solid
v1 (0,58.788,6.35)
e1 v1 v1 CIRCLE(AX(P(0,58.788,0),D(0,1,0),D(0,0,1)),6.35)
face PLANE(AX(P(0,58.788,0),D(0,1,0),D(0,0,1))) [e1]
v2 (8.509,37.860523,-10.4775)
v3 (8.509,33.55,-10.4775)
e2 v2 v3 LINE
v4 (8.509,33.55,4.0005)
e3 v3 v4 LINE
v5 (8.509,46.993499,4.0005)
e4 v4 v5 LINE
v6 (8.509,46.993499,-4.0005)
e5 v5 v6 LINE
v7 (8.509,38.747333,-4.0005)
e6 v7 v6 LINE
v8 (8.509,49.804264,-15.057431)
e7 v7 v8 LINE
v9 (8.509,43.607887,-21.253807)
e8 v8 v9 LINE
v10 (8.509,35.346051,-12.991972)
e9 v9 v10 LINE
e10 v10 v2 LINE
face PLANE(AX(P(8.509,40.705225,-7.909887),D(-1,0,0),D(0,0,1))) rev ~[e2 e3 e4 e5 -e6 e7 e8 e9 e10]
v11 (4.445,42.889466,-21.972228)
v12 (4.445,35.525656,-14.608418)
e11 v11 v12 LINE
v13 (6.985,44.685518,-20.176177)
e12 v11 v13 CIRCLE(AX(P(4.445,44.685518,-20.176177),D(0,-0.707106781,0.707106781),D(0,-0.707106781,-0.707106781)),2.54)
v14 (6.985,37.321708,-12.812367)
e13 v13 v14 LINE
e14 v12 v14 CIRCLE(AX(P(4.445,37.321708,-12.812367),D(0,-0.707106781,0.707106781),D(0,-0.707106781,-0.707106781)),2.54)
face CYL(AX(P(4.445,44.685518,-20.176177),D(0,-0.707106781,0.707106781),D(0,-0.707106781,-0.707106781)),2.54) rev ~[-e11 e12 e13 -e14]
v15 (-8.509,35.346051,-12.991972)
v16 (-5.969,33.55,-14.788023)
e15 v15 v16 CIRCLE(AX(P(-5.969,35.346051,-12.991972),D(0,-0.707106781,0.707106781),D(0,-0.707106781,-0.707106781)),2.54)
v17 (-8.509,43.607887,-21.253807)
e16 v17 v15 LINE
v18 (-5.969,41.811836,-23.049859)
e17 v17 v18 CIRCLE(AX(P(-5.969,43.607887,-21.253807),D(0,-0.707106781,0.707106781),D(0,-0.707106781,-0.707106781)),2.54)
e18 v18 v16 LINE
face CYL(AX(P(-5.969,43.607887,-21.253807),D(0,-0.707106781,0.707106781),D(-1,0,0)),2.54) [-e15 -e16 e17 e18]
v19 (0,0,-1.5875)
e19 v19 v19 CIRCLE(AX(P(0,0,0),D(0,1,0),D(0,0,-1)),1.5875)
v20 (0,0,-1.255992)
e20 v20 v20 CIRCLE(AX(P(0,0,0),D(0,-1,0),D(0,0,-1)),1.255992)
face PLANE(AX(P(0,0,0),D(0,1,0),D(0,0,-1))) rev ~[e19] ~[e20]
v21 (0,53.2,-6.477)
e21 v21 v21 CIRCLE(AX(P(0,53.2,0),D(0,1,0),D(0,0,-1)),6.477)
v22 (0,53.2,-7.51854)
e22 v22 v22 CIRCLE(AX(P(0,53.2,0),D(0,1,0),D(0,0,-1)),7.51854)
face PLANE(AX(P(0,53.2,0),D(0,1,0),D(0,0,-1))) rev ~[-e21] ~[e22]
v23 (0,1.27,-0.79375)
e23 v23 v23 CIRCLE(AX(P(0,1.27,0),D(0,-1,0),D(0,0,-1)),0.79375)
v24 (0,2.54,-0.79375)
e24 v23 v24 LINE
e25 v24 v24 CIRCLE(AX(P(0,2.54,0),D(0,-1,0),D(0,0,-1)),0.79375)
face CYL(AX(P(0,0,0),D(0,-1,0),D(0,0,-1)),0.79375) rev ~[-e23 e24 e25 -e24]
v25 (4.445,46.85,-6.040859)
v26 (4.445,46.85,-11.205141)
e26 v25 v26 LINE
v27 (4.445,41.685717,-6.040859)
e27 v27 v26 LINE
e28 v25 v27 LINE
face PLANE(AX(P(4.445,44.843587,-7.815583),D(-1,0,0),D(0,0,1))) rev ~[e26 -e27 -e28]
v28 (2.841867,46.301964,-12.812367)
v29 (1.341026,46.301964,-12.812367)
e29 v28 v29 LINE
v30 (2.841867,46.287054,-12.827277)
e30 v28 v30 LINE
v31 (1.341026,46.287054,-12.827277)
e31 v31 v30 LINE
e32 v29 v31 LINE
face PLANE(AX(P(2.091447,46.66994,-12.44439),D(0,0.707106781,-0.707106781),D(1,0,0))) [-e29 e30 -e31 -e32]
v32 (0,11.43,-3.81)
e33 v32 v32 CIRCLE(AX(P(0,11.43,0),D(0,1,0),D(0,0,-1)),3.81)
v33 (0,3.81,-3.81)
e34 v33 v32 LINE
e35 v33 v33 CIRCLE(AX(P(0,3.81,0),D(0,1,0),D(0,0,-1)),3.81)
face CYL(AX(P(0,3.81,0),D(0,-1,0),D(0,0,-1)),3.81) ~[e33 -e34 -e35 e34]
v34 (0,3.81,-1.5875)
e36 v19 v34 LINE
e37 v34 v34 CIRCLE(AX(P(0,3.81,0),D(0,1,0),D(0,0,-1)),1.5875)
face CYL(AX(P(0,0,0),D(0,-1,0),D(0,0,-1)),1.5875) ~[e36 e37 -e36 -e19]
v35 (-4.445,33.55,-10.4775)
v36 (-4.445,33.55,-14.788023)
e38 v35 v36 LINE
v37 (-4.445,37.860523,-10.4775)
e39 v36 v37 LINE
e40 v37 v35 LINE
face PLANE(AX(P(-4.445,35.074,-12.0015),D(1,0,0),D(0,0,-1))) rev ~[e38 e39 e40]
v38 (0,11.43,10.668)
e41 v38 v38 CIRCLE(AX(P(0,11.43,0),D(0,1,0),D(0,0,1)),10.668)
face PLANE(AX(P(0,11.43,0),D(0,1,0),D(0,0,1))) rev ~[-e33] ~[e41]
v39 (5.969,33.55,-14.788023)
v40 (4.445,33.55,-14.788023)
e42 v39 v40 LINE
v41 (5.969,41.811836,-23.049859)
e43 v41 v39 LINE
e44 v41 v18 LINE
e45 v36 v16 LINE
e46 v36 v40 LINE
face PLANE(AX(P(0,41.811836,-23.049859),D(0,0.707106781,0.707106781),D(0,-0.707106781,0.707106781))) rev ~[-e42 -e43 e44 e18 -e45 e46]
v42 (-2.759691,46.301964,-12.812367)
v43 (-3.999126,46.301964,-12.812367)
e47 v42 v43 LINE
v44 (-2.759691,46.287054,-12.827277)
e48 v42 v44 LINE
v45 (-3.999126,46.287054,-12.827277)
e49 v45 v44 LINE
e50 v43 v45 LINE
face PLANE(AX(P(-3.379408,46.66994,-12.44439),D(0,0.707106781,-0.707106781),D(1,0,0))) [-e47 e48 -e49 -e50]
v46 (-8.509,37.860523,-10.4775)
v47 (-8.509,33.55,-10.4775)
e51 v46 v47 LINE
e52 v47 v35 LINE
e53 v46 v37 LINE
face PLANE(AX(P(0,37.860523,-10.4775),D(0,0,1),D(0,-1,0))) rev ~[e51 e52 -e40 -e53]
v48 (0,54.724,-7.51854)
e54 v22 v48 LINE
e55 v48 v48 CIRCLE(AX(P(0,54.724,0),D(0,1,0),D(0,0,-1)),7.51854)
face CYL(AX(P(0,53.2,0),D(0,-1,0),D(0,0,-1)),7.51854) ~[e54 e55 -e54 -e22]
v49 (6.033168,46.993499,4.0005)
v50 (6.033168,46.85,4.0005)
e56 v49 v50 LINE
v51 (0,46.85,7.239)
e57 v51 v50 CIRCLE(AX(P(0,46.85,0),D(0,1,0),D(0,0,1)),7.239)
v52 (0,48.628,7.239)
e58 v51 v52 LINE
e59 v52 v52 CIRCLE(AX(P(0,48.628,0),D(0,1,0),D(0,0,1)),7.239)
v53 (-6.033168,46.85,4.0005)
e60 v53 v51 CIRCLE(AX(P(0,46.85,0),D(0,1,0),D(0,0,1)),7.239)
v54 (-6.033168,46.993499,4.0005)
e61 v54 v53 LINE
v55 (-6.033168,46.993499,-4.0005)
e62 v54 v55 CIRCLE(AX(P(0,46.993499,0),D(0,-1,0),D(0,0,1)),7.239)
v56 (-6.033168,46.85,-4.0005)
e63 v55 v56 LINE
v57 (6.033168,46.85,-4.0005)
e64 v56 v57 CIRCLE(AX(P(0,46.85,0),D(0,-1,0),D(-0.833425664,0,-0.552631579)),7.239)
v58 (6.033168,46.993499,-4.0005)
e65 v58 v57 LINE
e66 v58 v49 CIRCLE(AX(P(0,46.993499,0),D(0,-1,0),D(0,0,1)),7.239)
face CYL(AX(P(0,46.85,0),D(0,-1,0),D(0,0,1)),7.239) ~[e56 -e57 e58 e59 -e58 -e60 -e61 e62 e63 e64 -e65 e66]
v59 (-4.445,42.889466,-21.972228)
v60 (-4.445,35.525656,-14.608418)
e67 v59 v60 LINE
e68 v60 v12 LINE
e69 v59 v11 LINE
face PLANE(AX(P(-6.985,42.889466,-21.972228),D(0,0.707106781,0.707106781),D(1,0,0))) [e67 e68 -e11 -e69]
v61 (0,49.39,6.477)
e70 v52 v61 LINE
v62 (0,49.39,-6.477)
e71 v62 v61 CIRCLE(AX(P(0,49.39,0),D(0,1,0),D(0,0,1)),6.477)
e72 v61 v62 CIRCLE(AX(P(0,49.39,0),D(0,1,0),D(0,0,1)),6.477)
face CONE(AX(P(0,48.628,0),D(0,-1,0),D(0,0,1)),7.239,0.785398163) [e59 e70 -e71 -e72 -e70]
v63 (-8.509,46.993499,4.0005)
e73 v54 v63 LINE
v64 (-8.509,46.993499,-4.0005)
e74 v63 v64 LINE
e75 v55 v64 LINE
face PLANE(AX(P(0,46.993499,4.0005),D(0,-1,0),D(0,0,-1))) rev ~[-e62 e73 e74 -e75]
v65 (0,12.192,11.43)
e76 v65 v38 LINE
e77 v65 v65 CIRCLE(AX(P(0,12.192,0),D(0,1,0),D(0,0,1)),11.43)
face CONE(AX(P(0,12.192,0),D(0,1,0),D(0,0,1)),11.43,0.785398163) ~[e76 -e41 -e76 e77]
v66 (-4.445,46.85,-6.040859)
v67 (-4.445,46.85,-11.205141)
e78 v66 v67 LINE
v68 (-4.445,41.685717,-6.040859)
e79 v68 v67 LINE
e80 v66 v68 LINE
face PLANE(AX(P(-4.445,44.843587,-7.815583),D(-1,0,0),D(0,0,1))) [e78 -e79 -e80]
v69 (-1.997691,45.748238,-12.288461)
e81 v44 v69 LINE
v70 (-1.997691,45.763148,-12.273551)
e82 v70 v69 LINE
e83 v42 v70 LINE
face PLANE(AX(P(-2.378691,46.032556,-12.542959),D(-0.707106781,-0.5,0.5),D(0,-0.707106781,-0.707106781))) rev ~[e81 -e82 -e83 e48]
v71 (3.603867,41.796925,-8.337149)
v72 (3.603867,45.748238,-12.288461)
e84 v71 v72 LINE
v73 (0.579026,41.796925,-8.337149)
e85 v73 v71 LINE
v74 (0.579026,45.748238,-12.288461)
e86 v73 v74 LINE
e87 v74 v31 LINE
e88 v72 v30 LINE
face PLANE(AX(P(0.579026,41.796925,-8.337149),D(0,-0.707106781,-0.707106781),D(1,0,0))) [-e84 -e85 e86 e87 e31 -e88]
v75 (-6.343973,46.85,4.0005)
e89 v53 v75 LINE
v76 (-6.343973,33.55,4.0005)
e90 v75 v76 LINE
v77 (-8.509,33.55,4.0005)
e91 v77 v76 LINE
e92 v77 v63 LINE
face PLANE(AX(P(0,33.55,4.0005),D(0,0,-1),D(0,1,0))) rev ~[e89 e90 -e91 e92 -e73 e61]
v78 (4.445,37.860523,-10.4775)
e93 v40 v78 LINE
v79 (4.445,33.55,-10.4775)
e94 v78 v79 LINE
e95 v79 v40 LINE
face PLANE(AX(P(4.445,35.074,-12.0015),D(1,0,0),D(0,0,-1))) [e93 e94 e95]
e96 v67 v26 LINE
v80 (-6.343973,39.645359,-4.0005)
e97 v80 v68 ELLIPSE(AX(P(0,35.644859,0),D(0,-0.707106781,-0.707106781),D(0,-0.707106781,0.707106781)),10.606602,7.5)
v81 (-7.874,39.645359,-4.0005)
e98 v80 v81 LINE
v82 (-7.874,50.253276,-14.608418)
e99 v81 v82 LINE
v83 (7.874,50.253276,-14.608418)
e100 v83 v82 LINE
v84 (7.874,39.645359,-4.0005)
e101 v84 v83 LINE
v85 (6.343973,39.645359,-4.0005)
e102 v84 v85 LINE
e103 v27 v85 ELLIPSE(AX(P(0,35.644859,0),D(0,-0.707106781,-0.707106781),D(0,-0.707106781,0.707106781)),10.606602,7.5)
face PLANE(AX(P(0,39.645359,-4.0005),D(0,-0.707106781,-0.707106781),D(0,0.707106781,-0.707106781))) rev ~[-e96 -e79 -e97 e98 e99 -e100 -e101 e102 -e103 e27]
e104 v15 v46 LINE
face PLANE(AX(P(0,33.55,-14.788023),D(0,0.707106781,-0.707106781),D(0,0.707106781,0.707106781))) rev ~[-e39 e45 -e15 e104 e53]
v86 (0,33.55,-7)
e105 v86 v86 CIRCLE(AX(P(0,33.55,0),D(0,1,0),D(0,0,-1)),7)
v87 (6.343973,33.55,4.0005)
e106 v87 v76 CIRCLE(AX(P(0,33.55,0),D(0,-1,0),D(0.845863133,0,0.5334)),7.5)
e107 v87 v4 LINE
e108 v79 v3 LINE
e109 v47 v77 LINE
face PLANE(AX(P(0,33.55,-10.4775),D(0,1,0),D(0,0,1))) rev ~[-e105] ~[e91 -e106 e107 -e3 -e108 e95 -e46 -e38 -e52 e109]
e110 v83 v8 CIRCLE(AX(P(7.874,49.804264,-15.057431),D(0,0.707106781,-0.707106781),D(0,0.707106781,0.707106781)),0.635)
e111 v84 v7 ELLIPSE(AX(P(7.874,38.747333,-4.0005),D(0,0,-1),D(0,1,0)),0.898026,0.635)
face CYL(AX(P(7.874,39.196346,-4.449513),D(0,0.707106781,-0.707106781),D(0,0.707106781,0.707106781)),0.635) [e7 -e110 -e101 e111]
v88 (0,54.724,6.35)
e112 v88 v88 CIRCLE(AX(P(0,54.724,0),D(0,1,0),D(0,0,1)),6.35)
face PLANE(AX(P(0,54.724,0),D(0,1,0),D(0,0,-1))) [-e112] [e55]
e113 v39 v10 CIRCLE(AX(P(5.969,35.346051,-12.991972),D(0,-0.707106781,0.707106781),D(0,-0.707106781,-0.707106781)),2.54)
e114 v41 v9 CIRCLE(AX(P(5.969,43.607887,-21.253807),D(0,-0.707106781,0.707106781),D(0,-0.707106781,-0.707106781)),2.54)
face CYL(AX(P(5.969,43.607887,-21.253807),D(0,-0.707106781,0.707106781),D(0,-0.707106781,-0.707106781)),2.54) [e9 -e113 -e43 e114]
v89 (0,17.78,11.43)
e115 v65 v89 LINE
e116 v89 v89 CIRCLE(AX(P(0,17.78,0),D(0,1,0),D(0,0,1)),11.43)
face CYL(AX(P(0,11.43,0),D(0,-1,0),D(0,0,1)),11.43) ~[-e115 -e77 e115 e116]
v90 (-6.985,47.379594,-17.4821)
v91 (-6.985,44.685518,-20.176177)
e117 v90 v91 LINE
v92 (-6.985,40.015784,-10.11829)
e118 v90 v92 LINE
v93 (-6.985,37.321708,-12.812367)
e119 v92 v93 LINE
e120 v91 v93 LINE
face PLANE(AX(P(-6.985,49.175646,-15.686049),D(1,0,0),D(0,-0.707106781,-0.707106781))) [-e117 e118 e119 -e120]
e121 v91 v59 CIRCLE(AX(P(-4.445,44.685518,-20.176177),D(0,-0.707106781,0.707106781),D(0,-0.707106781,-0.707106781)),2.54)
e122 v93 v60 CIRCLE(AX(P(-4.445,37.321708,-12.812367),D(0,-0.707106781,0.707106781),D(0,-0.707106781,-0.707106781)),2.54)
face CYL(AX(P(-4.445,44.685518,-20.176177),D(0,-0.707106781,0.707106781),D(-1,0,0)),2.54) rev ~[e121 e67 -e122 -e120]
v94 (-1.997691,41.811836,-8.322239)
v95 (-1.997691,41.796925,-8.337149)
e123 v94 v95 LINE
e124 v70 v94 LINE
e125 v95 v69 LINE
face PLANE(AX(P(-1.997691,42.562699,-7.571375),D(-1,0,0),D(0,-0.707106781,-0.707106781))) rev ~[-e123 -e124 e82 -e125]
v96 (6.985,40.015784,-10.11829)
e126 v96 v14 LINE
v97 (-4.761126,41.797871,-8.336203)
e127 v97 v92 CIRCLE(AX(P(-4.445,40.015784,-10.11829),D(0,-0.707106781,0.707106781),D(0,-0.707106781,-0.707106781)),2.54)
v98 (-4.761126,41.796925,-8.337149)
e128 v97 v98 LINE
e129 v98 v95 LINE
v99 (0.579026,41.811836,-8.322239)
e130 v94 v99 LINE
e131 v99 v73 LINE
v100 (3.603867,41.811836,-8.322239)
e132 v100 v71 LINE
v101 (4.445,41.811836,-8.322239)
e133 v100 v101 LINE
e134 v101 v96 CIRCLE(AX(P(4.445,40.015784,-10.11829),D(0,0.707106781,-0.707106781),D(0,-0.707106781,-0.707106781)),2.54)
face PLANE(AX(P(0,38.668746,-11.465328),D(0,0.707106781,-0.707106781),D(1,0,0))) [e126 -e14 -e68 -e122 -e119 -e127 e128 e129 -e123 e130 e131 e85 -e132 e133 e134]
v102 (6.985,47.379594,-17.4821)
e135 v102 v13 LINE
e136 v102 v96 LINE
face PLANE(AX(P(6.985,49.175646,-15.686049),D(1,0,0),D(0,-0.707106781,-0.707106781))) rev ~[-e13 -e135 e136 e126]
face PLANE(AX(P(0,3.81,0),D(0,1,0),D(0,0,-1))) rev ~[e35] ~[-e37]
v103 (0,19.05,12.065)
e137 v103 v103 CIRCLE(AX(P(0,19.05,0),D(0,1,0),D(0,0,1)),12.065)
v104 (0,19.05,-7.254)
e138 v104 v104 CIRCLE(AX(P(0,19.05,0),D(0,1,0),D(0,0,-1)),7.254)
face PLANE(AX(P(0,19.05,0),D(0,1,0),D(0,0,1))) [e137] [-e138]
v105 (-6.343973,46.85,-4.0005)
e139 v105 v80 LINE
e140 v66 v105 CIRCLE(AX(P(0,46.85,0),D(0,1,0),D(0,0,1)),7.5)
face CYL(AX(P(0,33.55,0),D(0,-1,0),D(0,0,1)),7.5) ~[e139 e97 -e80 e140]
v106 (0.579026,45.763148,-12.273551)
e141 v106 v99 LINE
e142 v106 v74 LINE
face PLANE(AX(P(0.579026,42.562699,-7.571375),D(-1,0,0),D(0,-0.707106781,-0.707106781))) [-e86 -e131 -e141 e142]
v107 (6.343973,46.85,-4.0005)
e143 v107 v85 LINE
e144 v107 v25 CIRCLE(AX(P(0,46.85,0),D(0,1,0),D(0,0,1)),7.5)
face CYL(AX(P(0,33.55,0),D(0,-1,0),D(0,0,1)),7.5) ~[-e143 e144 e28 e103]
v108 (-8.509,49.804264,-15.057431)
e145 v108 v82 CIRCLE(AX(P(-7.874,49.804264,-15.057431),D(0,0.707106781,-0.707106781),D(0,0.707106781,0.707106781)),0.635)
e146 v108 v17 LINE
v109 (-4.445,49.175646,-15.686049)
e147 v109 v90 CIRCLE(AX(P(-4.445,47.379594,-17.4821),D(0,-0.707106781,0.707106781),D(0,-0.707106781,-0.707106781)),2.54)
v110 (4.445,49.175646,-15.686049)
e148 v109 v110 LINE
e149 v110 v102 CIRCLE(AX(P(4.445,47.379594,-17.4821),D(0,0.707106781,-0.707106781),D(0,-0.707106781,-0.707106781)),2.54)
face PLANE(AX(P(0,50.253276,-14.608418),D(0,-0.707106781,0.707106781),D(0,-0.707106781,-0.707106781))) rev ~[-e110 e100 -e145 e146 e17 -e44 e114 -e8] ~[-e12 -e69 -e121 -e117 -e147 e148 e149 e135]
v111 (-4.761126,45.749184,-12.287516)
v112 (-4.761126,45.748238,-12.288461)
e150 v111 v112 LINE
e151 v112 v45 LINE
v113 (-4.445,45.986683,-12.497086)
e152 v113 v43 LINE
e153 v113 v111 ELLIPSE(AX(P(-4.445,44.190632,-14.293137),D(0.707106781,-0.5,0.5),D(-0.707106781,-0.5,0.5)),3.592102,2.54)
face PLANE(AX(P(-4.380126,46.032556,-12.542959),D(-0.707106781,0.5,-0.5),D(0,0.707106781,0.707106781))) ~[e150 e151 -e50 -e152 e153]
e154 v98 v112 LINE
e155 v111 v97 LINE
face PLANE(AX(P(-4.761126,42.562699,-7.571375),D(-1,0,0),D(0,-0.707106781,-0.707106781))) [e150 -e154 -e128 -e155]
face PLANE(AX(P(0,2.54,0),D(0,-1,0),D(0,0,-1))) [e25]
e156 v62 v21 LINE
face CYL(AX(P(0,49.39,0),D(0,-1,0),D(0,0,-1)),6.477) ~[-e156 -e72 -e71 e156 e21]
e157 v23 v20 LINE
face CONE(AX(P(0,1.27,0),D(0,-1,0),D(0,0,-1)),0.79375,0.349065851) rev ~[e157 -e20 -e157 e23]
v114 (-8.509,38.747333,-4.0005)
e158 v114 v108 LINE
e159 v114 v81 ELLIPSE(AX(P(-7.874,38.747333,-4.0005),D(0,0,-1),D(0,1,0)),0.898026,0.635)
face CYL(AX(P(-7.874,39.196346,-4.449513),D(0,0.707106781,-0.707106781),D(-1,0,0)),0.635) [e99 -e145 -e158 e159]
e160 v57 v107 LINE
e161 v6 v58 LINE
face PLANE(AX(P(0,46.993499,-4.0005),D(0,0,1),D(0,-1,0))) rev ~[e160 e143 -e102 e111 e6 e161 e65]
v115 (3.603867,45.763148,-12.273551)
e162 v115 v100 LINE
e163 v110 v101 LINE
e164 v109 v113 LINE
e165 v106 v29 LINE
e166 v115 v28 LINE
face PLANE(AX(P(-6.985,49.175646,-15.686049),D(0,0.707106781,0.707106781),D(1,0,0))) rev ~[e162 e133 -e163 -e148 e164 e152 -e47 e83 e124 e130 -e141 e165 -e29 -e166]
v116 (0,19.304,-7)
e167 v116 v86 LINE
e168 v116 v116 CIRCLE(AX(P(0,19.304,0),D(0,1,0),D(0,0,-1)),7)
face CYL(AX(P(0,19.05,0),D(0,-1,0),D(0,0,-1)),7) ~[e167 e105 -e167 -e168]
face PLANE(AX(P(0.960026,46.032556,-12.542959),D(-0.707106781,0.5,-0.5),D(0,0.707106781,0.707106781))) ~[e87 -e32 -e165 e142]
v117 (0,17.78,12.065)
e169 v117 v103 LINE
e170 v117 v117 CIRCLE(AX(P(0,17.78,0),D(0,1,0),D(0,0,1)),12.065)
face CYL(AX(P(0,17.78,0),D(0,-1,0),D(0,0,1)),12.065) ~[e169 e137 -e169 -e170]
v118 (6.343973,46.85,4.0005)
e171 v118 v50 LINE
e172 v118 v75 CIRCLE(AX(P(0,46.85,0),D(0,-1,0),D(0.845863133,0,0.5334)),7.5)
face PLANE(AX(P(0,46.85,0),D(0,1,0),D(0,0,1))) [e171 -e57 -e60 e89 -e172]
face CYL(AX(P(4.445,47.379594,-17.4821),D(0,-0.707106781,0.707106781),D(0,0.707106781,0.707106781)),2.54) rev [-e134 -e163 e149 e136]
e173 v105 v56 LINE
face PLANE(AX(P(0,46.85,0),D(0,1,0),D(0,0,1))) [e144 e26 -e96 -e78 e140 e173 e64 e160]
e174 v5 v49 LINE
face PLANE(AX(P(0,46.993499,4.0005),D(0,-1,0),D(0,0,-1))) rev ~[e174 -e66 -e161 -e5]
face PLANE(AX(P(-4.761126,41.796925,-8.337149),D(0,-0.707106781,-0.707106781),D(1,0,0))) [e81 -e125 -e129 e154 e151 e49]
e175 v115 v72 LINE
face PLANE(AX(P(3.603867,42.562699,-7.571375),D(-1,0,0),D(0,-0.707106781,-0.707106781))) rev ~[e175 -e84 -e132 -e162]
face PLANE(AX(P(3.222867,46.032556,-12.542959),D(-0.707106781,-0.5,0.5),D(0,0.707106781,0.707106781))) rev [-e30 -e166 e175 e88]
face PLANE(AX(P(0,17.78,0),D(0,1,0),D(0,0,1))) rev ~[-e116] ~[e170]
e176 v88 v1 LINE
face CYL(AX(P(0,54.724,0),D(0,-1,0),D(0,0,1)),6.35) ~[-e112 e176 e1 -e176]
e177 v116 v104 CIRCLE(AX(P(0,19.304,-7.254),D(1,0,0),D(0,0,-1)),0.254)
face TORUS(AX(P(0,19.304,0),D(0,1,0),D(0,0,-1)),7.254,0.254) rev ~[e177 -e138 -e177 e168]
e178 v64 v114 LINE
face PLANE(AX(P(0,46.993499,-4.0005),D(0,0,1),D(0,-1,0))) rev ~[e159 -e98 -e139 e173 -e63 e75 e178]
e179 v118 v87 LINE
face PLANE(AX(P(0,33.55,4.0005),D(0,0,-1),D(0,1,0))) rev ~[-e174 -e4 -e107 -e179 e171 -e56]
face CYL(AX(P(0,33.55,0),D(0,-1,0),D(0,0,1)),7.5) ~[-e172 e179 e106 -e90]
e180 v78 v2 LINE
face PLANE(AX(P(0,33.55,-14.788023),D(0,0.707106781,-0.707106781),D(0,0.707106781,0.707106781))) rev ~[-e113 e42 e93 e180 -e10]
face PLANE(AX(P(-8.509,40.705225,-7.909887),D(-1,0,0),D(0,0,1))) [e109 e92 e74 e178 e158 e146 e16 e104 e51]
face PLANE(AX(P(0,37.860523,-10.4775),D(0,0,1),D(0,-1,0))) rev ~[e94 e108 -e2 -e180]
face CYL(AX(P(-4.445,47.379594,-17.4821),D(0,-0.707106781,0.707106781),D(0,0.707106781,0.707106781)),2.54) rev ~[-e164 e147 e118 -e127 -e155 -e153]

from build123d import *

# Parameters (mm, degrees)
SKETCH1_R          = 1.5875
EXTRUDE1_DEPTH     = 3.81
SKETCH2_R          = 3.81
EXTRUDE2_DEPTH     = 7.62
SKETCH3_R          = 11.43
EXTRUDE3_DEPTH     = 6.35
SKETCH4_R          = 12.065
EXTRUDE4_DEPTH     = 1.27
SKETCH5_R          = 7
EXTRUDE5_DEPTH     = 14.5
SKETCH6_R          = 7.5
EXTRUDE6_DEPTH     = 13.3
SKETCH7_R          = 7.239
EXTRUDE7_DEPTH     = 2.54
CHAMFER6_SIZE      = 0.762
SKETCH8_R          = 6.477
EXTRUDE8_DEPTH     = 3.81
SKETCH9_R          = 0.79375
CUT_EXTRUDE1_DEPTH = 2.54
CHAMFER1_SIZE      = 1.27
CHAMFER1_SIZE2     = 0.462242198
SKETCH10_R         = 7.518539915
EXTRUDE9_DEPTH     = 1.524
SKETCH11_R         = 6.35
EXTRUDE10_DEPTH    = 4.064
FILLET1_R          = 0.254
CHAMFER7_SIZE      = 0.762
EXTRUDE11_DEPTH    = 8.509
SKETCH13_W         = 13.97
SKETCH13_H         = 8.89
CUT_EXTRUDE2_DEPTH = 10.414
SKETCH14_W         = 2.763435098
SKETCH14_H         = 1.082967808
SKETCH14_W_2       = 3.024841121
EXTRUDE12_DEPTH    = 6.35
CHAMFER8_SIZE      = 0.762
FILLET2_R          = 2.54
FILLET3_R          = 0.635
EXTRUDE13_DEPTH    = 4.445


with BuildPart() as part:
    # Sketch1 → Extrude1 (new body)
    with BuildSketch(Plane(origin=(0, 0, 0), x_dir=(1, 0, 0), z_dir=(0, 1, 0))):
        with Locations(Location((0, 0, 0), (0, 0, 90))):
            Circle(SKETCH1_R)
    extrude(amount=EXTRUDE1_DEPTH)

    # Sketch2 → Extrude2 (add)
    with BuildSketch(Plane(origin=(0, 3.81, 0), x_dir=(1, 0, 0), z_dir=(0, 1, 0))):
        with Locations(Location((0, 0, 0), (0, 0, 90))):
            Circle(SKETCH2_R)
    extrude(amount=EXTRUDE2_DEPTH)

    # Sketch3 → Extrude3 (add)
    with BuildSketch(Plane(origin=(0, 11.43, 0), x_dir=(1, 0, 0), z_dir=(0, 1, 0))):
        with Locations(Location((0, 0, 0), (0, 0, 270))):
            Circle(SKETCH3_R)
    extrude(amount=EXTRUDE3_DEPTH)

    # Sketch4 → Extrude4 (add)
    with BuildSketch(Plane(origin=(0, 17.78, 0), x_dir=(1, 0, 0), z_dir=(0, 1, 0))):
        with Locations(Location((0, 0, 0), (0, 0, 270))):
            Circle(SKETCH4_R)
    extrude(amount=EXTRUDE4_DEPTH)

    # Sketch5 → Extrude5 (add)
    with BuildSketch(Plane(origin=(0, 19.05, 0), x_dir=(1, 0, 0), z_dir=(0, 1, 0))):
        with Locations(Location((0, 0, 0), (0, 0, 90))):
            Circle(SKETCH5_R)
    extrude(amount=EXTRUDE5_DEPTH)

    # Sketch6 → Extrude6 (add)
    with BuildSketch(Plane(origin=(0, 33.55, 0), x_dir=(1, 0, 0), z_dir=(0, 1, 0))):
        with Locations(Location((0, 0, 0), (0, 0, 270))):
            Circle(SKETCH6_R)
    extrude(amount=EXTRUDE6_DEPTH)

    # Sketch7 → Extrude7 (add)
    with BuildSketch(Plane(origin=(0, 46.85, 0), x_dir=(1, 0, 0), z_dir=(0, 1, 0))):
        with Locations(Location((0, 0, 0), (0, 0, 270))):
            Circle(SKETCH7_R)
    extrude(amount=EXTRUDE7_DEPTH)

    # Chamfer6
    chamfer6_edges = [part.edges().sort_by_distance(p)[0] for p in [
        (0, 49.39, -7.239),
    ]]
    chamfer(chamfer6_edges, length=CHAMFER6_SIZE)

    # Sketch8 → Extrude8 (add)
    with BuildSketch(Plane(origin=(0, 49.39, 0), x_dir=(1, 0, 0), z_dir=(0, 1, 0))):
        with Locations(Location((0, 0, 0), (0, 0, 90))):
            Circle(SKETCH8_R)
    extrude(amount=EXTRUDE8_DEPTH)

    # Sketch9 → Cut-Extrude1 (cut)
    with BuildSketch(Plane.XZ):
        with Locations(Location((0, 0, 0), (0, 0, 270))):
            Circle(SKETCH9_R)
    extrude(amount=-CUT_EXTRUDE1_DEPTH, mode=Mode.SUBTRACT)

    # Chamfer1
    chamfer1_edges = [part.edges().sort_by_distance(p)[0] for p in [
        (0, 0, 0.79375),
    ]]
    chamfer1_side = [part.faces().sort_by_distance(p)[0] for p in [
        (0, 1.27, 0.79375),
    ]]
    chamfer(chamfer1_edges, length=CHAMFER1_SIZE, length2=CHAMFER1_SIZE2, reference=chamfer1_side[0])

    # Sketch10 → Extrude9 (add)
    with BuildSketch(Plane(origin=(0, 53.2, 0), x_dir=(1, 0, 0), z_dir=(0, 1, 0))):
        with Locations(Location((0, 0, 0), (0, 0, 90))):
            Circle(SKETCH10_R)
    extrude(amount=EXTRUDE9_DEPTH)

    # Sketch11 → Extrude10 (add)
    with BuildSketch(Plane(origin=(0, 54.724, 0), x_dir=(1, 0, 0), z_dir=(0, 1, 0))):
        with Locations(Location((0, 0, 0), (0, 0, 270))):
            Circle(SKETCH11_R)
    extrude(amount=EXTRUDE10_DEPTH)

    # Fillet1
    fillet1_edges = [part.edges().sort_by_distance(p)[0] for p in [
        (0, 19.05, 7),
    ]]
    fillet(fillet1_edges, radius=FILLET1_R)

    # Chamfer7
    chamfer7_edges = [part.edges().sort_by_distance(p)[0] for p in [
        (0, 11.43, -11.43),
    ]]
    chamfer(chamfer7_edges, length=CHAMFER7_SIZE)

    # Sketch12 → Extrude11 (add, symmetric)
    with BuildSketch(Plane(origin=(0, 0, 0), x_dir=(0, 0, -1), z_dir=(1, 0, 0))):
        Polygon((-4.0005, 33.55), (-4.0005, 46.993498834), (4.0005, 46.993498834), (4.0005, 39.645358569), (14.608417816, 50.253276385), (23.049858569, 41.811835631), (14.788022938, 33.55), (10.4775, 37.860522938), (10.4775, 33.55), align=None)
    extrude(amount=EXTRUDE11_DEPTH, both=True)

    # Sketch13 → Cut-Extrude2 (cut)
    with BuildSketch(Plane(origin=(0, 32.4308471, -32.4308471), x_dir=(1, 0, 0), z_dir=(0, 0.7071067811865482, -0.7071067811865468))):
        with Locations((0, -19.235721209)):
            Rectangle(SKETCH13_W, SKETCH13_H)
    extrude(amount=-CUT_EXTRUDE2_DEPTH, mode=Mode.SUBTRACT)

    # Sketch14 → Extrude12 (add)
    with BuildSketch(Plane(origin=(0, 25.067037081, -25.067037081), x_dir=(1, 0, 0), z_dir=(0, 0.7071067811865475, -0.7071067811865477))):
        with Locations((-3.379408051, -24.201118939)):
            Rectangle(SKETCH14_W, SKETCH14_H)
        with Locations((2.091446569, -24.201118939)):
            Rectangle(SKETCH14_W_2, SKETCH14_H)
    extrude(amount=EXTRUDE12_DEPTH)

    # Chamfer8
    chamfer8_edges = [part.edges().sort_by_distance(p)[0] for p in [
        (-1.997690502, 46.294508604, -12.81982168),
        (-4.7611256, 46.294508604, -12.81982168),
        (3.60386713, 46.294508604, -12.81982168),
        (0.579026009, 46.294508604, -12.81982168),
    ]]
    chamfer(chamfer8_edges, length=CHAMFER8_SIZE)

    # Fillet2
    fillet2_edges = [part.edges().sort_by_distance(p)[0] for p in [
        (-8.509, 37.680917816, -18.918940754),
        (8.509, 37.680917816, -18.918940754),
        (6.985, 39.207561356, -18.290322825),
        (-6.985, 39.207561356, -18.290322825),
        (-6.985, 45.493740641, -12.004143541),
        (6.985, 45.493740641, -12.004143541),
    ]]
    fillet(fillet2_edges, radius=FILLET2_R)

    # Fillet3
    fillet3_edges = [part.edges().sort_by_distance(p)[0] for p in [
        (-8.509, 44.949317477, -9.304458908),
        (8.509, 44.949317477, -9.304458908),
    ]]
    fillet(fillet3_edges, radius=FILLET3_R)

    # Sketch15 → Extrude13 (add, symmetric)
    with BuildSketch(Plane(origin=(0, 0, 0), x_dir=(0, 0, -1), z_dir=(1, 0, 0))):
        Polygon((5.360156527, 46.85), (12.103167043, 46.85), (5.360156527, 41.005015096), align=None)
        Polygon((10.4775, 33.55), (14.788022938, 33.55), (10.4775, 37.860522938), align=None)
    extrude(amount=EXTRUDE13_DEPTH, both=True)


solid = part.part
